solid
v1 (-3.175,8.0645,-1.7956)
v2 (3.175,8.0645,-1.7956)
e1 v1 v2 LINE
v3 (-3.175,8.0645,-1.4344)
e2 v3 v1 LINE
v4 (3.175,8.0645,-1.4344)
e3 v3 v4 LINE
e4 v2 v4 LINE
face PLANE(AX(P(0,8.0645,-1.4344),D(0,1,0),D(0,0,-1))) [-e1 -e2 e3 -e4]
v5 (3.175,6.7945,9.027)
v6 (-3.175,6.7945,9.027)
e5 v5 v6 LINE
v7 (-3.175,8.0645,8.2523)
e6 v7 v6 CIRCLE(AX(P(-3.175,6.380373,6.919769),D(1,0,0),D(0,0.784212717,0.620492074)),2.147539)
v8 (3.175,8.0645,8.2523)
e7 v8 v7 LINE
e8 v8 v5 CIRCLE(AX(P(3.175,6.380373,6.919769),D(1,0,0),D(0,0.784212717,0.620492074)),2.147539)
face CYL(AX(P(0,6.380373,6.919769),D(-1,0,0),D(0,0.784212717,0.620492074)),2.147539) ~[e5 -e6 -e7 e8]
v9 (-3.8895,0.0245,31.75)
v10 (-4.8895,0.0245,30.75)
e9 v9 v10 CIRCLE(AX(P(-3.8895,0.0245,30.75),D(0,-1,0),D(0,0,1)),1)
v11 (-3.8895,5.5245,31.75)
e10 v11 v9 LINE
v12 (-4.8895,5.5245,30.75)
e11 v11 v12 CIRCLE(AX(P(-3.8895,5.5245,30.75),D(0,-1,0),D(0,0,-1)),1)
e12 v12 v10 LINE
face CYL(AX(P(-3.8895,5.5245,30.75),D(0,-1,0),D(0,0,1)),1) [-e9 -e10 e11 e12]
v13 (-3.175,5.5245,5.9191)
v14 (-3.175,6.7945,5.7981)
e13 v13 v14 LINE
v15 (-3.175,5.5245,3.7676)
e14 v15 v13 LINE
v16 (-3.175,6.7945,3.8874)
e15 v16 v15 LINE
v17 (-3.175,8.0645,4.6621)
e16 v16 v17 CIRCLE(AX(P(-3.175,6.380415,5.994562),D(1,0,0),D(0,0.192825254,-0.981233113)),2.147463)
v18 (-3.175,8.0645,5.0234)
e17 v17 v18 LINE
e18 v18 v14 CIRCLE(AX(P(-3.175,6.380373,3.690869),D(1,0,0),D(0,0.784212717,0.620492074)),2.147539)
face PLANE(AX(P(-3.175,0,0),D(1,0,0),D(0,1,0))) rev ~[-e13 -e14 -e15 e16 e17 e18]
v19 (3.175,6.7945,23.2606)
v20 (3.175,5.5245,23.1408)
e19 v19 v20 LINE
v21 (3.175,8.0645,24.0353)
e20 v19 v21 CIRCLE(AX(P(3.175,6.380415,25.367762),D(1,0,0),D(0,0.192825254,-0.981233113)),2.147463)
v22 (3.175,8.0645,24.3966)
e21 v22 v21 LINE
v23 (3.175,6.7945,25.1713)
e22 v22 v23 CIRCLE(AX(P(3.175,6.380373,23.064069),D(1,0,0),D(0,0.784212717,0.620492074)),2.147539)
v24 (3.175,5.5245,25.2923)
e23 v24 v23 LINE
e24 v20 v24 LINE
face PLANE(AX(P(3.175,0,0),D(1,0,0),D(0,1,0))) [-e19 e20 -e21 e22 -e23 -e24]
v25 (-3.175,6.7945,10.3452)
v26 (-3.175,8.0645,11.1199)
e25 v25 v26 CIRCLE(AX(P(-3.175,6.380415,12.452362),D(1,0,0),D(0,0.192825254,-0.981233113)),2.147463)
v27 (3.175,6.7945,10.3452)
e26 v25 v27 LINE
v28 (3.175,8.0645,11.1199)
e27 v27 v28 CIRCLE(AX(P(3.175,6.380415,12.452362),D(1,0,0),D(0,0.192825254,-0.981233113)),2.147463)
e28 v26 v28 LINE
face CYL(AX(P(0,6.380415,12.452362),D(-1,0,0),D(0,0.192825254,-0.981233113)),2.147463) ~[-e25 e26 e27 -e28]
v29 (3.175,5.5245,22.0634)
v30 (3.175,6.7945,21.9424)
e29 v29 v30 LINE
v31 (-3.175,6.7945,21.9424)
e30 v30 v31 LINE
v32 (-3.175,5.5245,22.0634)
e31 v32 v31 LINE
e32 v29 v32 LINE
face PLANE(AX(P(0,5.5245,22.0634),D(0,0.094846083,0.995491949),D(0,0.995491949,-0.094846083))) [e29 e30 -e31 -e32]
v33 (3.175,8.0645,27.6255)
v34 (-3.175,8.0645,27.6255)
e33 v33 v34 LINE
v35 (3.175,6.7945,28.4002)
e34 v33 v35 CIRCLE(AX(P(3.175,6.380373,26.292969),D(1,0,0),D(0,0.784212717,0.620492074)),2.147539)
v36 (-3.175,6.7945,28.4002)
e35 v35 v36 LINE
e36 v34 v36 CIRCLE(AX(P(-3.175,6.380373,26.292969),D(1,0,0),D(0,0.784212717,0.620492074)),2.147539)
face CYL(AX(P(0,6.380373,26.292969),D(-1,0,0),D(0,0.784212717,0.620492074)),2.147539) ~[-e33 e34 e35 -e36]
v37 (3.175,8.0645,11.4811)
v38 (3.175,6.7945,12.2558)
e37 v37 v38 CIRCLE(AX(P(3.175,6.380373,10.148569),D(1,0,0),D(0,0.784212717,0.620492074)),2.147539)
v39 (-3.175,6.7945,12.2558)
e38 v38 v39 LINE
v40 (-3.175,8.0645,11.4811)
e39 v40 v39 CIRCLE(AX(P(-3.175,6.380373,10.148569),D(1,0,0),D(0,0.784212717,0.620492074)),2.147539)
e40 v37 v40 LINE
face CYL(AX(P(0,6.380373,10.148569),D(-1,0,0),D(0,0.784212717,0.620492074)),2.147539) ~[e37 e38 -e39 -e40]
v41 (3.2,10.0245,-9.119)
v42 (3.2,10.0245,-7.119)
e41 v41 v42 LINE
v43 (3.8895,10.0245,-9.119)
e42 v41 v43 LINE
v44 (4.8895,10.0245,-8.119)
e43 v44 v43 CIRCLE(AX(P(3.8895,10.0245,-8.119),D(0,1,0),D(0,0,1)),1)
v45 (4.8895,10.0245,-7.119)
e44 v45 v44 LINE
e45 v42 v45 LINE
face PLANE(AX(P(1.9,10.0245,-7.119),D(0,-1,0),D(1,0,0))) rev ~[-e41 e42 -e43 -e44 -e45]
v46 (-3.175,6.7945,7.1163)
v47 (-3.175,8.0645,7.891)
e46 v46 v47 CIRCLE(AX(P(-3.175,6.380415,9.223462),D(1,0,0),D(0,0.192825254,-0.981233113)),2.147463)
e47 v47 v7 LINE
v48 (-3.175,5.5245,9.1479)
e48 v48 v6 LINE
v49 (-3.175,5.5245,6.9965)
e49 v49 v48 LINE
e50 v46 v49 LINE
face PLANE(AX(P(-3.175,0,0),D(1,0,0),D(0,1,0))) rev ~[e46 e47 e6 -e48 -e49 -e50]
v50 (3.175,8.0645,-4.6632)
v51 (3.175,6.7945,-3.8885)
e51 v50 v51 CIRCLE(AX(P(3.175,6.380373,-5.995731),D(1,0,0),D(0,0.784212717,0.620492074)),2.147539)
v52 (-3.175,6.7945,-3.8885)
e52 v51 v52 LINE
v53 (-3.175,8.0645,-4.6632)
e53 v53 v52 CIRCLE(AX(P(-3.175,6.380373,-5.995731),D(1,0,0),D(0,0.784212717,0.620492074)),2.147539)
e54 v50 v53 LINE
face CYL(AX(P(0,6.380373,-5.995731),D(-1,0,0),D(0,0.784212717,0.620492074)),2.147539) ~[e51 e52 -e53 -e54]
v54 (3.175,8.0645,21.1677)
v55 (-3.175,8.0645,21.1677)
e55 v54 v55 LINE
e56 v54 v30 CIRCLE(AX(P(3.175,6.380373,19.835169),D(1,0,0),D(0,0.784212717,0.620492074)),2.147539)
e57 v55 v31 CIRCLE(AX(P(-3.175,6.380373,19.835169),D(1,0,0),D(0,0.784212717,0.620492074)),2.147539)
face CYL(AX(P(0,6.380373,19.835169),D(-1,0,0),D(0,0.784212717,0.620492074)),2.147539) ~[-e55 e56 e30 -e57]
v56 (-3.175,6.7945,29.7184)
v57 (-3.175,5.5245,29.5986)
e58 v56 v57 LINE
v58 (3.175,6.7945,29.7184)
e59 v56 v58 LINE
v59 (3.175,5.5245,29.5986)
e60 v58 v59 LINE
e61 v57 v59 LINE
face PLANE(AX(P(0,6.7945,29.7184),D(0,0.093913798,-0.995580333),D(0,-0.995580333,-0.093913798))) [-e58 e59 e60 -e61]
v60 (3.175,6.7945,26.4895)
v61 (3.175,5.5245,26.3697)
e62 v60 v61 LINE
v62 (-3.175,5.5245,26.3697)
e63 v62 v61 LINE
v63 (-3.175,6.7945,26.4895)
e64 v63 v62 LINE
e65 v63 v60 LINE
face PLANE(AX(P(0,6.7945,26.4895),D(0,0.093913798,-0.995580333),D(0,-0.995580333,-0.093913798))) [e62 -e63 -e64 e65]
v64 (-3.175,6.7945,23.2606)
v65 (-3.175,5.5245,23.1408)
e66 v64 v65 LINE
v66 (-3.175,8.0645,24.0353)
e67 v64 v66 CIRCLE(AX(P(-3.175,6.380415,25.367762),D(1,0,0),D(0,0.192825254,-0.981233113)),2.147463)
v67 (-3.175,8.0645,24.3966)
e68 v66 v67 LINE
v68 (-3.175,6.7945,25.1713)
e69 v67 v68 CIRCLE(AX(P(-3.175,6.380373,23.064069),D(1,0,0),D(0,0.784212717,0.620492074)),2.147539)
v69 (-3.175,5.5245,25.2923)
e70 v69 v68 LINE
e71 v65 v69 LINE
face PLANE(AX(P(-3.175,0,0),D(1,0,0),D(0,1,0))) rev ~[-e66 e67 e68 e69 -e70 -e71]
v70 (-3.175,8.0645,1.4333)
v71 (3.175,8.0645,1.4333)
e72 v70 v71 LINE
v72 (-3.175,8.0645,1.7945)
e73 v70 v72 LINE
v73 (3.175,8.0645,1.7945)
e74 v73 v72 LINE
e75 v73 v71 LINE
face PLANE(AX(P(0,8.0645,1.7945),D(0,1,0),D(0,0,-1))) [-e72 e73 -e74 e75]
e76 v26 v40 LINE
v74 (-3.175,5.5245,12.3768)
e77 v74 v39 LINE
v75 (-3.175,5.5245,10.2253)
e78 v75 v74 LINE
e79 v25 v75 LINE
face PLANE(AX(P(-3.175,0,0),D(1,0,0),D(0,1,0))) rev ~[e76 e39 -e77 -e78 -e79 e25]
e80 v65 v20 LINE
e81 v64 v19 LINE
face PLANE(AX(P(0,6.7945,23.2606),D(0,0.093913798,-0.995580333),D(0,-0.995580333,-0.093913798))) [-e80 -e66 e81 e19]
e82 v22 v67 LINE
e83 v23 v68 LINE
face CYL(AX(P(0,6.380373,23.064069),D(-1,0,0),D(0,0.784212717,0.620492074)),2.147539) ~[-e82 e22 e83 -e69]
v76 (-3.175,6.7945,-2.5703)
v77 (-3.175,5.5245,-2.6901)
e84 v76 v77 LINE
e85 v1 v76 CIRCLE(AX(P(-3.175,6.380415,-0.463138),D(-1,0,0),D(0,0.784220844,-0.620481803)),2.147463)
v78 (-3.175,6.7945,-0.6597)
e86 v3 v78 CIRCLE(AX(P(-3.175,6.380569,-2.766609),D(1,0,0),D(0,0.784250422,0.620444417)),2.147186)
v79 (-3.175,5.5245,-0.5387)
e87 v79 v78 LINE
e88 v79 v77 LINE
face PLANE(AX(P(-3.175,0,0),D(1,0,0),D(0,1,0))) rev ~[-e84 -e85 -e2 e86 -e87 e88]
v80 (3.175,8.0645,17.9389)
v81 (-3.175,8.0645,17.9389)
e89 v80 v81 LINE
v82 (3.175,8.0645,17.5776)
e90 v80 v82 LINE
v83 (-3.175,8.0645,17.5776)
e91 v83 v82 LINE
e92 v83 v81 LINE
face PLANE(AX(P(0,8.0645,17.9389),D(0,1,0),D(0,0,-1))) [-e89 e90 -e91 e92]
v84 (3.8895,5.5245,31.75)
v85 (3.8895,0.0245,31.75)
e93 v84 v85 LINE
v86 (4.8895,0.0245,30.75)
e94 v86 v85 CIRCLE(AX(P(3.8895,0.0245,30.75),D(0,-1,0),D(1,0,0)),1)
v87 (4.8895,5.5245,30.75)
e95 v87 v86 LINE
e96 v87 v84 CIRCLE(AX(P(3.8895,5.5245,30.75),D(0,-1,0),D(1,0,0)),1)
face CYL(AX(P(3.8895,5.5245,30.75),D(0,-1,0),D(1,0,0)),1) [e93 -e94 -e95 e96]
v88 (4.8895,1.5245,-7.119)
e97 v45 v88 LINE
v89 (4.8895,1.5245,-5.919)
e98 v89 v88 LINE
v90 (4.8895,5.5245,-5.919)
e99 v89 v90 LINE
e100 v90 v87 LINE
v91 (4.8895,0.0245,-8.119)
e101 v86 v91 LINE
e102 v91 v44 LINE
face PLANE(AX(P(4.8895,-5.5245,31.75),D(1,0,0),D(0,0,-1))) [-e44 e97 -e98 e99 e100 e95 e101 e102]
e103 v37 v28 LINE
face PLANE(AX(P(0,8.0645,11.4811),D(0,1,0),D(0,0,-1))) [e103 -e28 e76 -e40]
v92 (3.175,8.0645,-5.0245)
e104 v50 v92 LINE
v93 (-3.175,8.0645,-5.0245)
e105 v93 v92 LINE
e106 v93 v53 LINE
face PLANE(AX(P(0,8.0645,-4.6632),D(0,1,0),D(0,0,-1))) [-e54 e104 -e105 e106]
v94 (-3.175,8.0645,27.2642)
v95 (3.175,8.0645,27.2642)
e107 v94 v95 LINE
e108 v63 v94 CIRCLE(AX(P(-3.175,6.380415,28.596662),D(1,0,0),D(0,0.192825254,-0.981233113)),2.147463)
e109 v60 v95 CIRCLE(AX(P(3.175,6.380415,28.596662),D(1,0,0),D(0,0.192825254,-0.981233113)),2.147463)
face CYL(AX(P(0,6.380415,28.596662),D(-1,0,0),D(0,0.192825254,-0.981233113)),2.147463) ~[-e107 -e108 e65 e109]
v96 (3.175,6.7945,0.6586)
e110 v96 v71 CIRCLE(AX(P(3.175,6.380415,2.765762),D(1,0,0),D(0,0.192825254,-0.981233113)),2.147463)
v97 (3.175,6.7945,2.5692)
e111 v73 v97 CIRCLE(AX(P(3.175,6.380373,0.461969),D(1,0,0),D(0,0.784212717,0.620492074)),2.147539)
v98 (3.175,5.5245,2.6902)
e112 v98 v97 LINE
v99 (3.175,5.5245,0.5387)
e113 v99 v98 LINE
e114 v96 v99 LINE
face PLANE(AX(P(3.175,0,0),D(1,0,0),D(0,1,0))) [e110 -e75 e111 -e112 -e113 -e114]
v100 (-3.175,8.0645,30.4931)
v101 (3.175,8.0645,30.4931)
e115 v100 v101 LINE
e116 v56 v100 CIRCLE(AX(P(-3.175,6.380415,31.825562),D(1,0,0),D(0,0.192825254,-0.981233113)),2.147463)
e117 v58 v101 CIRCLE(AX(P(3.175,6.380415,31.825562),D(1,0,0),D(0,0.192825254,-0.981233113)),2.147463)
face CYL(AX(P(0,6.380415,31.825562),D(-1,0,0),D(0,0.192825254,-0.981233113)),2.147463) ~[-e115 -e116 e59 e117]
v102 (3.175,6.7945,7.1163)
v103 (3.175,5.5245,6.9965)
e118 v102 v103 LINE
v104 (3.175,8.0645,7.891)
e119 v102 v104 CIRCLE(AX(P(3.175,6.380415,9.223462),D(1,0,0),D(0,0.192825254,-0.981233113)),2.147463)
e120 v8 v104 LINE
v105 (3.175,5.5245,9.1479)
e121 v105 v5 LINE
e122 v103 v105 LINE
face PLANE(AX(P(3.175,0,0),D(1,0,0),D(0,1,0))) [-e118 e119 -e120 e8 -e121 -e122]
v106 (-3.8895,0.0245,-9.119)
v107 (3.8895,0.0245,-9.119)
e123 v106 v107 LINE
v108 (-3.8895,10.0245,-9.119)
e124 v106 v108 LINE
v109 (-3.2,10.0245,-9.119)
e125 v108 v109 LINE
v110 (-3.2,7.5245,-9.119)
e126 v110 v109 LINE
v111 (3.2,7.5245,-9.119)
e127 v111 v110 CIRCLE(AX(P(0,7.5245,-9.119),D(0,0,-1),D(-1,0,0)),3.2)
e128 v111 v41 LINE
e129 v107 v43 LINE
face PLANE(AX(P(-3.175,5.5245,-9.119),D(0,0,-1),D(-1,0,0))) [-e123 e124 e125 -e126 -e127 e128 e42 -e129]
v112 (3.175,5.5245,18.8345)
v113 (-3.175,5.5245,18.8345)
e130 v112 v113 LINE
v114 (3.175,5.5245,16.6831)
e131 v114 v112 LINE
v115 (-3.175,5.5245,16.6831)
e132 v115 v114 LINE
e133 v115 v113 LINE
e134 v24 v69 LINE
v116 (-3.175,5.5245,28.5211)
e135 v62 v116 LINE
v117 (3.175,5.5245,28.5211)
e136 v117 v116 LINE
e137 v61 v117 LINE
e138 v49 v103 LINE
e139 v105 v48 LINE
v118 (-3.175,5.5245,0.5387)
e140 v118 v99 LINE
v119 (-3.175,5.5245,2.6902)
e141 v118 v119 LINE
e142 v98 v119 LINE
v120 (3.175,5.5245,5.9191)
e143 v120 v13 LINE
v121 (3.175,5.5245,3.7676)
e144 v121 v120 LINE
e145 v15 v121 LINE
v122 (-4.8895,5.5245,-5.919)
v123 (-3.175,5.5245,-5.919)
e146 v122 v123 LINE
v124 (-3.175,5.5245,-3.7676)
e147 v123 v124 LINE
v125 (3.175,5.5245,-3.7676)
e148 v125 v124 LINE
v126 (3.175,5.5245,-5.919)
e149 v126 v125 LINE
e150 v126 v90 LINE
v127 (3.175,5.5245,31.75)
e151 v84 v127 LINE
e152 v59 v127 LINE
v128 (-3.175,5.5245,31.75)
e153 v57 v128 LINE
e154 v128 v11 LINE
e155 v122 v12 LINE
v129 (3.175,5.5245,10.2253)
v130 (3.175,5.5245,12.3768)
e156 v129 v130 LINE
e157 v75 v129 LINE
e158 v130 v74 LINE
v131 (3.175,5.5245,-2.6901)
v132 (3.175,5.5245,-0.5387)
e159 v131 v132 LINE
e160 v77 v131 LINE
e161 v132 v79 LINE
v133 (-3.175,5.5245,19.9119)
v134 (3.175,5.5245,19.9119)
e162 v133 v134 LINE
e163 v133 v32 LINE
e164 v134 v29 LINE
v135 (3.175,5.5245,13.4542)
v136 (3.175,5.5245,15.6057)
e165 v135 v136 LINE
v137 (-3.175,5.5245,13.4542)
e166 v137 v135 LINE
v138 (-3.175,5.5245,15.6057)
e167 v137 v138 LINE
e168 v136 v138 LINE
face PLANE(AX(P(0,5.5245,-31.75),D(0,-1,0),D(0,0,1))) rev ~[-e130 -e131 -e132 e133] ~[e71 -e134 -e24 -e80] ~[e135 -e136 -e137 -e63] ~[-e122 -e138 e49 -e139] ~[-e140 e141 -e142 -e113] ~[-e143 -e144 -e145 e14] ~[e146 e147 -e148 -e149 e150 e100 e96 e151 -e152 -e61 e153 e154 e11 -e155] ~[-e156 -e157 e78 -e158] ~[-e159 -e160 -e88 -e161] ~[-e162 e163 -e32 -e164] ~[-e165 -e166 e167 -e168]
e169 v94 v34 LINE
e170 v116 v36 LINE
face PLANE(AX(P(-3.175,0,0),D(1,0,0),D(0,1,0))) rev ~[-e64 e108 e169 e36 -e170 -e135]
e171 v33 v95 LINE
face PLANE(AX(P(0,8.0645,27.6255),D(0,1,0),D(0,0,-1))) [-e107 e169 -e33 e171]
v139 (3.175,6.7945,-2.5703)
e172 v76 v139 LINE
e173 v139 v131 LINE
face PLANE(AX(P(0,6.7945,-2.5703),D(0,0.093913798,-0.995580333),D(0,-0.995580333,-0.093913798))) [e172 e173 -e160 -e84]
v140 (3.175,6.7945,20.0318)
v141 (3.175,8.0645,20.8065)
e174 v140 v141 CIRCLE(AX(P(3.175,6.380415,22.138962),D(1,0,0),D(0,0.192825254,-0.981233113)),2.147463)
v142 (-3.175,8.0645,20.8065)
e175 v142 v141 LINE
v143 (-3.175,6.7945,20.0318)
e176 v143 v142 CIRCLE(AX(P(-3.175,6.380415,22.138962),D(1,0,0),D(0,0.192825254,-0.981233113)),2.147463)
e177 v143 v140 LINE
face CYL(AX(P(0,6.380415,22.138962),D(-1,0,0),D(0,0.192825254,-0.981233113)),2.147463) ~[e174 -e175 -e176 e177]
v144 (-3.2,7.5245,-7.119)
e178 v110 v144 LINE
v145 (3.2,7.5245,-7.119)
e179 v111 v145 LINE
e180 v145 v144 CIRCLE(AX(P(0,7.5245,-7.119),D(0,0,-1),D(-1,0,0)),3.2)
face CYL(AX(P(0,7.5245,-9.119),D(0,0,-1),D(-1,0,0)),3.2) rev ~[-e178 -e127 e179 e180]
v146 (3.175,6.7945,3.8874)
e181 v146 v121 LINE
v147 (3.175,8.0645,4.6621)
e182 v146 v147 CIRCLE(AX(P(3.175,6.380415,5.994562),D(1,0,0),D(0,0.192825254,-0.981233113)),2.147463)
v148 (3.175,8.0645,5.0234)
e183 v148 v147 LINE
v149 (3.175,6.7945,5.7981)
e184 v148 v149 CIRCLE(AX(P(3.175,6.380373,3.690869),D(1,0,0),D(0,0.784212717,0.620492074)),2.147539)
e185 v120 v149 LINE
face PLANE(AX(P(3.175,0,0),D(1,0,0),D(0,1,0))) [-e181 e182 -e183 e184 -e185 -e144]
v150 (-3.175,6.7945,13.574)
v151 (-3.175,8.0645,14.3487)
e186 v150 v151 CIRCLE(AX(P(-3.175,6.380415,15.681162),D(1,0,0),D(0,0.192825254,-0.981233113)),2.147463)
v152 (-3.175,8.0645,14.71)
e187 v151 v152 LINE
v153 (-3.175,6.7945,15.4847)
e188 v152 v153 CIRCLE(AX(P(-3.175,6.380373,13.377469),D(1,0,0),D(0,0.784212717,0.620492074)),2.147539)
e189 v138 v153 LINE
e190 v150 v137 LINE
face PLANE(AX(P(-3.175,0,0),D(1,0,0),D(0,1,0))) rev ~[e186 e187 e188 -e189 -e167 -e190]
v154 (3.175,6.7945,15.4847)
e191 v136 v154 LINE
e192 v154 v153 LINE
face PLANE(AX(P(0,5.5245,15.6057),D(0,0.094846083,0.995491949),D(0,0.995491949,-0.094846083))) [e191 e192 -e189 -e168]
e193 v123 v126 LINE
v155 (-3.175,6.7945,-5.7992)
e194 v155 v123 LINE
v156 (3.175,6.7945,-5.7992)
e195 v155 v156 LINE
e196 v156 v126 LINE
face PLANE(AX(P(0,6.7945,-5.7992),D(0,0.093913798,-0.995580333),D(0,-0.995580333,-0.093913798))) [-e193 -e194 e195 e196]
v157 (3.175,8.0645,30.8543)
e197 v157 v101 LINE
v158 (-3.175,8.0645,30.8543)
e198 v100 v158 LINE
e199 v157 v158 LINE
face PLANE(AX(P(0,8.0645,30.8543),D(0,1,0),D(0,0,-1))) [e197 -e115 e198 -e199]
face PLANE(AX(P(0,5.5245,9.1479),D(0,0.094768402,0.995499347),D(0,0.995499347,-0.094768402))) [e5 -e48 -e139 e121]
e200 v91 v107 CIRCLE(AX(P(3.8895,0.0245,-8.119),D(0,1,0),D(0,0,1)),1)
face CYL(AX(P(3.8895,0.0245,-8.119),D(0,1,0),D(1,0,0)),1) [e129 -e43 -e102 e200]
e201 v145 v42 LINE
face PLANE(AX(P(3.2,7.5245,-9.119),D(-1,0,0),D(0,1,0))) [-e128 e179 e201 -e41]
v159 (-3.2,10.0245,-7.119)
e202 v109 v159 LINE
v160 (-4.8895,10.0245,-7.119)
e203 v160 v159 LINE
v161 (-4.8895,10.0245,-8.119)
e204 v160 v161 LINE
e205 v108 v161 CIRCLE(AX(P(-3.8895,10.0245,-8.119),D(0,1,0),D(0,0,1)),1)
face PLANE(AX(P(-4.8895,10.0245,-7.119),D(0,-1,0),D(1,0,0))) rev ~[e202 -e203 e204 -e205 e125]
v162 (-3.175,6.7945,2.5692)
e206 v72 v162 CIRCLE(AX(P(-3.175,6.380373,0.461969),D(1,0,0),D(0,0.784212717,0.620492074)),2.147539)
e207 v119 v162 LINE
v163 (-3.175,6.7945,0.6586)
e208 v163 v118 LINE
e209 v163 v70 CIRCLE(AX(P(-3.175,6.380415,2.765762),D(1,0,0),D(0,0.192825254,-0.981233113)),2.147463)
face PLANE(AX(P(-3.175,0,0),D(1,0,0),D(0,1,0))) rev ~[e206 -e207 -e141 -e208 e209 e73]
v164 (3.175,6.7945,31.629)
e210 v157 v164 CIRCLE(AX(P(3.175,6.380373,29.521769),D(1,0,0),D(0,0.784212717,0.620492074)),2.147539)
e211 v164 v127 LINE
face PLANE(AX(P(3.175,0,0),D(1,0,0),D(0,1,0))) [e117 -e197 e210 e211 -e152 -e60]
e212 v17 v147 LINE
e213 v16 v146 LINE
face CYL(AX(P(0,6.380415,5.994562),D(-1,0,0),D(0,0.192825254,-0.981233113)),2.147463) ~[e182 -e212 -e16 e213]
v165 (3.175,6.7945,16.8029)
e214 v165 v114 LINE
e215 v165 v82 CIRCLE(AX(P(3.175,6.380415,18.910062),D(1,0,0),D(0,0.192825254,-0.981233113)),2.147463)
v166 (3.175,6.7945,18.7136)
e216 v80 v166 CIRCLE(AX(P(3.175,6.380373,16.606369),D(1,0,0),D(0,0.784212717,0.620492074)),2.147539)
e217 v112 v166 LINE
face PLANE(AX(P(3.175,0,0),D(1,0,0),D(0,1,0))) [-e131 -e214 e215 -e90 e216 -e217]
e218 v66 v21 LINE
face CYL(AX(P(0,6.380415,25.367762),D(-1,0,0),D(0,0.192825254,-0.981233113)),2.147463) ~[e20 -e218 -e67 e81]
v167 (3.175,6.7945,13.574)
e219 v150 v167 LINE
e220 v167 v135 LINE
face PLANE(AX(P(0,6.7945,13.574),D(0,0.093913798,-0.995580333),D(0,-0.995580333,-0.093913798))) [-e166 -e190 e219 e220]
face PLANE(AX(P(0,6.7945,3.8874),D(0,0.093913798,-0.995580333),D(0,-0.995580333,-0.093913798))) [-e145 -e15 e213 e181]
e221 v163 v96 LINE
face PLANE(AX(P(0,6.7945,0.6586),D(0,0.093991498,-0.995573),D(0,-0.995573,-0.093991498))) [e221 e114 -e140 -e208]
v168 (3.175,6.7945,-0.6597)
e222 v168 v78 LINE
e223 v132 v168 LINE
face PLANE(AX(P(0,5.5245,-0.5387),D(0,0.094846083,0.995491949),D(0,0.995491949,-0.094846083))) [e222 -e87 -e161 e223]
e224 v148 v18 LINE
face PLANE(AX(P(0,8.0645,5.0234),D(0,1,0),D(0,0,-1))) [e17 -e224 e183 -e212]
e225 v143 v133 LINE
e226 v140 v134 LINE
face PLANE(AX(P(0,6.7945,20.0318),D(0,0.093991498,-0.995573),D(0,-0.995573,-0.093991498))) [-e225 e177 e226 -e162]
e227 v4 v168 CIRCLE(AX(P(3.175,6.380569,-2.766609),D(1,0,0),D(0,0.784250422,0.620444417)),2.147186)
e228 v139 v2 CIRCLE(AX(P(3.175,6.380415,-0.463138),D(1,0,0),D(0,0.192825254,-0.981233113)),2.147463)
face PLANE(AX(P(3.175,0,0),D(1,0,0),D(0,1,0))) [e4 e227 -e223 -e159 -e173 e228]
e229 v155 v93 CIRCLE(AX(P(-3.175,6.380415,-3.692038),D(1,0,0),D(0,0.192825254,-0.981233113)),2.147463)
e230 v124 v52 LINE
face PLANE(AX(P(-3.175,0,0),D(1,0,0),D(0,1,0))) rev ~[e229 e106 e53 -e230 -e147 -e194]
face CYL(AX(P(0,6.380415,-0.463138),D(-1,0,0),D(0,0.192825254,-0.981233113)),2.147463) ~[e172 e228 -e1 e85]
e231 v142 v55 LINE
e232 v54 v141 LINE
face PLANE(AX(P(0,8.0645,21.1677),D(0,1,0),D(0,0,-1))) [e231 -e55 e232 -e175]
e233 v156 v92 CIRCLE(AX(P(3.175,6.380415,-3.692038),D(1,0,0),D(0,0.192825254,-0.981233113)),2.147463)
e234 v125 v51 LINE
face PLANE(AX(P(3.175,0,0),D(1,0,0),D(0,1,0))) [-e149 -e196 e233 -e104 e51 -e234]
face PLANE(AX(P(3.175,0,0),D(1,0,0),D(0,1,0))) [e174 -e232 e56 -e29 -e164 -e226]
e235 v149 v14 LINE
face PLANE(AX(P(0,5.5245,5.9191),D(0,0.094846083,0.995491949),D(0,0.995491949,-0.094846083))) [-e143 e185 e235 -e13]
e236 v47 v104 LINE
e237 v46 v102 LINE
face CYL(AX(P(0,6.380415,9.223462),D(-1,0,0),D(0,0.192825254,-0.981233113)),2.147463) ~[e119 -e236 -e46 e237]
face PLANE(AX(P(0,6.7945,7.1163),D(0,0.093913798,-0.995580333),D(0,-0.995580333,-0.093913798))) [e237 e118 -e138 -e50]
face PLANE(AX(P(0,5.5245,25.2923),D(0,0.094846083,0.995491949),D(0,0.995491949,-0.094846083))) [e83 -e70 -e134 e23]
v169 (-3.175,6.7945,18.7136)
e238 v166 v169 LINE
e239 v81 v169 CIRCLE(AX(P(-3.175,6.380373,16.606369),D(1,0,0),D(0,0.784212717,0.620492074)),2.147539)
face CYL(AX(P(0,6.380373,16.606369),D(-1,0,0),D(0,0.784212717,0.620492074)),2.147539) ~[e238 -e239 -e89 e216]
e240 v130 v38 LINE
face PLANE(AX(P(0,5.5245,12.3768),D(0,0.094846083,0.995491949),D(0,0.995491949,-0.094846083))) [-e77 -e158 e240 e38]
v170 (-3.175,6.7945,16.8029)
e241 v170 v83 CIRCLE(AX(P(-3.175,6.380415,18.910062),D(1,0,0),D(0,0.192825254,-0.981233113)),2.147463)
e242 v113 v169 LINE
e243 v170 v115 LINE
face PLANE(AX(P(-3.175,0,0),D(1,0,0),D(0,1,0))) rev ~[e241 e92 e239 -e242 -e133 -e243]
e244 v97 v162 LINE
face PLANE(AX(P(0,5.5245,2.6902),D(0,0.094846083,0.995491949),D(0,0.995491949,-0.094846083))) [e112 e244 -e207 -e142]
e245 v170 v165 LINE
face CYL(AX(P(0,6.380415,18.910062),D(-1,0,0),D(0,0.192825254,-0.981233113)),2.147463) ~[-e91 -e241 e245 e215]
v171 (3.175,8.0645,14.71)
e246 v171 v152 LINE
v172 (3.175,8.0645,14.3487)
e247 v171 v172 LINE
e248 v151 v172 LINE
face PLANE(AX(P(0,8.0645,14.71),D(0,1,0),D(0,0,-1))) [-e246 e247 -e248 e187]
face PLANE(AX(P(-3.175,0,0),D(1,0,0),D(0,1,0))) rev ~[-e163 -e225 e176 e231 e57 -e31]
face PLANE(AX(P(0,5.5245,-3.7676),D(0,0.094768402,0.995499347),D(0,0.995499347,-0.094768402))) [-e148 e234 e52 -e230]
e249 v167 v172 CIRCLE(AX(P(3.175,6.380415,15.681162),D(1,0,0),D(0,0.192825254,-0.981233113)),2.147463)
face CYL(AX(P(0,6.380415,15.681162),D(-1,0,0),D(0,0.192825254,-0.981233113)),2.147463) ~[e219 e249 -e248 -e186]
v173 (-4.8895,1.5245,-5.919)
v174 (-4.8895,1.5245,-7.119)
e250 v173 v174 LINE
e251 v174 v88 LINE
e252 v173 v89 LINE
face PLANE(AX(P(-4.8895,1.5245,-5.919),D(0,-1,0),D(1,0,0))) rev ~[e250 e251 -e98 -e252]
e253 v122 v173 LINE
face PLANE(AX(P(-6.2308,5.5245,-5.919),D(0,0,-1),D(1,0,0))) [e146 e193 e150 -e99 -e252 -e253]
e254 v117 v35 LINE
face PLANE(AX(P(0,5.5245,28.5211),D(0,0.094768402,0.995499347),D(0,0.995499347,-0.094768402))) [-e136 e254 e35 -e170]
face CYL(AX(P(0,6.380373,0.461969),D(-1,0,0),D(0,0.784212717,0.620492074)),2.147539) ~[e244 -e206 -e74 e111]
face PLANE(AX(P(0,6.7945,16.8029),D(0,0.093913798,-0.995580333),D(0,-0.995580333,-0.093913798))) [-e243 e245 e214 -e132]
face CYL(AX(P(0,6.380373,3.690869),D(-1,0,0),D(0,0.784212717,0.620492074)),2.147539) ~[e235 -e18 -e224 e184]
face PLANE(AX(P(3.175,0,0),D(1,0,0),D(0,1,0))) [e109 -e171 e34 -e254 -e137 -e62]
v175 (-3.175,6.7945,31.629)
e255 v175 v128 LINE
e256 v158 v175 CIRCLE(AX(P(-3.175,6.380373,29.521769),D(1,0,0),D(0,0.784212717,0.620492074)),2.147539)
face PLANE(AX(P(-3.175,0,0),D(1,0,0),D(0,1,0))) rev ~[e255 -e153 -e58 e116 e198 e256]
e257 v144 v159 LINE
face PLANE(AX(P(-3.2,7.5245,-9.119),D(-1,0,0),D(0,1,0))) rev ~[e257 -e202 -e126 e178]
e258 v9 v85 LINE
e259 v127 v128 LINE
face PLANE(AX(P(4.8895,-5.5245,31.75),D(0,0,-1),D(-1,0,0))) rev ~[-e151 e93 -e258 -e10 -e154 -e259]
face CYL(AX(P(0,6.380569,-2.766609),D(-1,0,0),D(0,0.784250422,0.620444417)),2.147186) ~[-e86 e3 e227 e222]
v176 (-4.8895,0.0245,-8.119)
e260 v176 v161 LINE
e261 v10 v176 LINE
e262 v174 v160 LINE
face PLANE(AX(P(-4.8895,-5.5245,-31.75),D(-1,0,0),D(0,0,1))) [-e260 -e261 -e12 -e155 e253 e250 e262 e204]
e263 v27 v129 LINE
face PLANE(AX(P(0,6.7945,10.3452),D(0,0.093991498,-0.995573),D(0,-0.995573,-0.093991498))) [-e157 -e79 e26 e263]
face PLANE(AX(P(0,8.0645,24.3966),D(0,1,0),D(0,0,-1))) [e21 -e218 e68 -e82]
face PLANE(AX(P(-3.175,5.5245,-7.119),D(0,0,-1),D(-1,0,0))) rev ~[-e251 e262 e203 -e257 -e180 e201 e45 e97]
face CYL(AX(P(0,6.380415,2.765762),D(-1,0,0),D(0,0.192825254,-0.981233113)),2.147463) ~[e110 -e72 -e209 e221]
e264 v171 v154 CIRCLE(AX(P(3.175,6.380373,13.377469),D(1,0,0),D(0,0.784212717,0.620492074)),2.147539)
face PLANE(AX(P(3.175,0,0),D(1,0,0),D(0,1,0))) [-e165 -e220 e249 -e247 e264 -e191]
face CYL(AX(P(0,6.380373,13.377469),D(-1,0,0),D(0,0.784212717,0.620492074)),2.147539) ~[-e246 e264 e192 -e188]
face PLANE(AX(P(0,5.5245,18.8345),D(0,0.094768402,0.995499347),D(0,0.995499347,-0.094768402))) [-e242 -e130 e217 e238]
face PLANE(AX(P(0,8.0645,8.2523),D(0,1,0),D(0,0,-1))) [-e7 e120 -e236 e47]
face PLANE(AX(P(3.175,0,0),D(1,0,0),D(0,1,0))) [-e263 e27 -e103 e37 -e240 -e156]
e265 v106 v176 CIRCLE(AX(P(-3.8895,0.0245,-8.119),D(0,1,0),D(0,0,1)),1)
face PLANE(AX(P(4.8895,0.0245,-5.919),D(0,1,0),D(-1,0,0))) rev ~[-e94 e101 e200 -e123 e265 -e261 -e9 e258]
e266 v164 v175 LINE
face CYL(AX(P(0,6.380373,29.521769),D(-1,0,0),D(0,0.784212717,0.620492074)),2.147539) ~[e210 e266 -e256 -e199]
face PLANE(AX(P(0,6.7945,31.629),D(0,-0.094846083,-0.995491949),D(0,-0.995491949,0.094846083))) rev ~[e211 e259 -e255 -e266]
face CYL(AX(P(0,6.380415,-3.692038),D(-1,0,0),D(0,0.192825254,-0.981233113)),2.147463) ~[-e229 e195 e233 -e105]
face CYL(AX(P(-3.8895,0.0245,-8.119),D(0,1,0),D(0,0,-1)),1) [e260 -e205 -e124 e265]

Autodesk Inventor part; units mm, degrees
ref_plane "YZ Plane" through (0, 0, 0) normal (1, 0, 0) x (0, 1, 0)
ref_plane "XZ Plane" through (0, 0, 0) normal (0, 1, 0) x (-1, 0, 0)
ref_plane "XY Plane" through (0, 0, 0) normal (0, 0, 1) x (1, 0, 0)
sketch "Sketch2" plane through (0, 0, 0) normal (1, 0, 0) x (0, 1, 0)
  line L0 (-5.5245, 31.75) -> (-5.5245, -31.75)
  line L1 (-5.5245, -31.75) -> (5.5245, -31.75)
  line L2 (5.5245, -31.75) -> (5.5245, 31.75)
  line L3 (5.5245, 31.75) -> (-5.5245, 31.75)
  line L4 (-5.5245, 31.75) -> (5.5245, -31.75) construction
  line L5 (-5.5245, -31.75) -> (5.5245, 31.75) construction
  point P0 (0, 0)
  dimension "d4" = 63.5
  dimension "d5" = 11.049
extrude "Extrusion2" add sketch "Sketch2" along normal mid plane 9.779
sketch "Sketch3" plane through (0, 0, 0) normal (1, 0, 0) x (0, 1, 0)
  line L0 (5.5245, -31.75) -> (5.5245, 31.75) projected
  line L1 (5.5245, 31.9532) -> (5.5245, 29.4132)
  line L2 (5.5245, 31.9532) -> (5.5245, 29.4132)
  arc A0 (8.0645, 30.8543) -> (6.7945, 31.629) centre (6.3804, 29.5218) ccw
  line L3 (8.0645, 30.6737) -> (7.6408, 30.6737)
  arc A1 (6.7945, 29.7184) -> (8.0645, 30.4931) centre (6.3804, 31.8256) ccw
  line L4 (8.0645, 30.8543) -> (8.0645, 30.4931)
  line L5 (5.5245, 31.75) -> (5.5245, -31.75)
  arc A2 (8.0642, -1.6042) -> (8.0645, -1.6033) centre (6.6313, -1.0154) ccw
  line L6 (6.7945, 31.629) -> (5.5245, 31.7489)
  line L7 (6.7945, 29.7184) -> (5.5245, 29.5986)
  line L8 (5.5245, 31.7489) -> (6.7945, 31.629)
  line L9 (6.7945, 29.7184) -> (5.5245, 29.5986)
  line L10 (5.5245, 29.5986) -> (5.5245, 31.7489)
  arc A3 (8.0645, 30.8543) -> (6.7945, 31.629) centre (6.3804, 29.5218) ccw
  arc A4 (6.7945, 29.7184) -> (8.0645, 30.4931) centre (6.3804, 31.8256) ccw
  line L11 (8.0645, 30.8543) -> (8.0645, 30.4931)
  line L12 (8.0645, 27.4448) -> (7.6408, 27.4448)
  line L13 (8.0645, 27.6255) -> (8.0645, 27.2642)
  line L14 (8.0645, 27.6255) -> (8.0645, 27.2642)
  arc A5 (6.7945, 26.4895) -> (8.0645, 27.2642) centre (6.3804, 28.5967) ccw
  arc A6 (8.0645, 27.6255) -> (6.7945, 28.4002) centre (6.3804, 26.293) ccw
  arc A7 (6.7945, 26.4895) -> (8.0645, 27.2642) centre (6.3804, 28.5967) ccw
  arc A8 (8.0645, 27.6255) -> (6.7945, 28.4002) centre (6.3804, 26.293) ccw
  line L15 (5.5245, 28.5211) -> (5.5245, -34.9788)
  line L16 (5.5245, 28.7243) -> (5.5245, 26.1843)
  line L17 (6.7945, 26.4895) -> (5.5245, 26.3697)
  line L18 (5.5245, 28.52) -> (6.7945, 28.4002)
  line L19 (6.7945, 26.4895) -> (5.5245, 26.3697)
  line L20 (5.5245, 26.3697) -> (5.5245, 28.52)
  line L21 (5.5245, 28.7243) -> (5.5245, 26.1843)
  line L22 (6.7945, 28.4002) -> (5.5245, 28.52)
  line L23 (8.0645, 24.216) -> (7.6408, 24.216)
  line L24 (8.0645, 24.3966) -> (8.0645, 24.0353)
  line L25 (8.0645, 24.3966) -> (8.0645, 24.0353)
  arc A9 (6.7945, 23.2606) -> (8.0645, 24.0353) centre (6.3804, 25.3678) ccw
  arc A10 (8.0645, 24.3966) -> (6.7945, 25.1713) centre (6.3804, 23.0641) ccw
  arc A11 (6.7945, 23.2606) -> (8.0645, 24.0353) centre (6.3804, 25.3678) ccw
  arc A12 (8.0645, 24.3966) -> (6.7945, 25.1713) centre (6.3804, 23.0641) ccw
  line L26 (5.5245, 25.2923) -> (5.5245, -38.2077)
  line L27 (5.5245, 25.4955) -> (5.5245, 22.9555)
  line L28 (6.7945, 23.2606) -> (5.5245, 23.1408)
  line L29 (5.5245, 25.2911) -> (6.7945, 25.1713)
  line L30 (6.7945, 23.2606) -> (5.5245, 23.1408)
  line L31 (5.5245, 23.1408) -> (5.5245, 25.2911)
  line L32 (5.5245, 25.4955) -> (5.5245, 22.9555)
  line L33 (6.7945, 25.1713) -> (5.5245, 25.2911)
  line L34 (8.0645, 20.9871) -> (7.6408, 20.9871)
  line L35 (8.0645, 21.1677) -> (8.0645, 20.8065)
  line L36 (8.0645, 21.1677) -> (8.0645, 20.8065)
  arc A13 (6.7945, 20.0318) -> (8.0645, 20.8065) centre (6.3804, 22.139) ccw
  arc A14 (8.0645, 21.1677) -> (6.7945, 21.9424) centre (6.3804, 19.8352) ccw
  arc A15 (6.7945, 20.0318) -> (8.0645, 20.8065) centre (6.3804, 22.139) ccw
  arc A16 (8.0645, 21.1677) -> (6.7945, 21.9424) centre (6.3804, 19.8352) ccw
  line L37 (5.5245, 22.0634) -> (5.5245, -41.4366)
  line L38 (5.5245, 22.2666) -> (5.5245, 19.7266)
  line L39 (6.7945, 20.0318) -> (5.5245, 19.9119)
  line L40 (5.5245, 22.0623) -> (6.7945, 21.9424)
  line L41 (6.7945, 20.0318) -> (5.5245, 19.9119)
  line L42 (5.5245, 19.9119) -> (5.5245, 22.0623)
  line L43 (5.5245, 22.2666) -> (5.5245, 19.7266)
  line L44 (6.7945, 21.9424) -> (5.5245, 22.0623)
  line L45 (8.0645, 17.7582) -> (7.6408, 17.7582)
  line L46 (8.0645, 17.9389) -> (8.0645, 17.5776)
  line L47 (8.0645, 17.9389) -> (8.0645, 17.5776)
  arc A17 (6.7945, 16.8029) -> (8.0645, 17.5776) centre (6.3804, 18.9101) ccw
  arc A18 (8.0645, 17.9389) -> (6.7945, 18.7136) centre (6.3804, 16.6064) ccw
  arc A19 (6.7945, 16.8029) -> (8.0645, 17.5776) centre (6.3804, 18.9101) ccw
  arc A20 (8.0645, 17.9389) -> (6.7945, 18.7136) centre (6.3804, 16.6064) ccw
  line L48 (5.5245, 18.8345) -> (5.5245, -44.6655)
  line L49 (5.5245, 19.0377) -> (5.5245, 16.4977)
  line L50 (6.7945, 16.8029) -> (5.5245, 16.6831)
  line L51 (5.5245, 18.8334) -> (6.7945, 18.7136)
  line L52 (6.7945, 16.8029) -> (5.5245, 16.6831)
  line L53 (5.5245, 16.6831) -> (5.5245, 18.8334)
  line L54 (5.5245, 19.0377) -> (5.5245, 16.4977)
  line L55 (6.7945, 18.7136) -> (5.5245, 18.8334)
  line L56 (8.0645, 14.5294) -> (7.6408, 14.5294)
  line L57 (8.0645, 14.71) -> (8.0645, 14.3487)
  line L58 (8.0645, 14.71) -> (8.0645, 14.3487)
  arc A21 (6.7945, 13.574) -> (8.0645, 14.3487) centre (6.3804, 15.6812) ccw
  arc A22 (8.0645, 14.71) -> (6.7945, 15.4847) centre (6.3804, 13.3775) ccw
  arc A23 (6.7945, 13.574) -> (8.0645, 14.3487) centre (6.3804, 15.6812) ccw
  arc A24 (8.0645, 14.71) -> (6.7945, 15.4847) centre (6.3804, 13.3775) ccw
  line L59 (5.5245, 15.6057) -> (5.5245, -47.8943)
  line L60 (5.5245, 15.8089) -> (5.5245, 13.2689)
  line L61 (6.7945, 13.574) -> (5.5245, 13.4542)
  line L62 (5.5245, 15.6045) -> (6.7945, 15.4847)
  line L63 (6.7945, 13.574) -> (5.5245, 13.4542)
  line L64 (5.5245, 13.4542) -> (5.5245, 15.6045)
  line L65 (5.5245, 15.8089) -> (5.5245, 13.2689)
  line L66 (6.7945, 15.4847) -> (5.5245, 15.6045)
  line L67 (8.0645, 11.3005) -> (7.6408, 11.3005)
  line L68 (8.0645, 11.4811) -> (8.0645, 11.1199)
  line L69 (8.0645, 11.4811) -> (8.0645, 11.1199)
  arc A25 (6.7945, 10.3452) -> (8.0645, 11.1199) centre (6.3804, 12.4524) ccw
  arc A26 (8.0645, 11.4811) -> (6.7945, 12.2558) centre (6.3804, 10.1486) ccw
  arc A27 (6.7945, 10.3452) -> (8.0645, 11.1199) centre (6.3804, 12.4524) ccw
  arc A28 (8.0645, 11.4811) -> (6.7945, 12.2558) centre (6.3804, 10.1486) ccw
  line L70 (5.5245, 12.3768) -> (5.5245, -51.1232)
  line L71 (5.5245, 12.58) -> (5.5245, 10.04)
  line L72 (6.7945, 10.3452) -> (5.5245, 10.2253)
  line L73 (5.5245, 12.3756) -> (6.7945, 12.2558)
  line L74 (6.7945, 10.3452) -> (5.5245, 10.2253)
  line L75 (5.5245, 10.2253) -> (5.5245, 12.3756)
  line L76 (5.5245, 12.58) -> (5.5245, 10.04)
  line L77 (6.7945, 12.2558) -> (5.5245, 12.3756)
  line L78 (8.0645, 8.0716) -> (7.6408, 8.0716)
  line L79 (8.0645, 8.2523) -> (8.0645, 7.891)
  line L80 (8.0645, 8.2523) -> (8.0645, 7.891)
  arc A29 (6.7945, 7.1163) -> (8.0645, 7.891) centre (6.3804, 9.2235) ccw
  arc A30 (8.0645, 8.2523) -> (6.7945, 9.027) centre (6.3804, 6.9198) ccw
  arc A31 (6.7945, 7.1163) -> (8.0645, 7.891) centre (6.3804, 9.2235) ccw
  arc A32 (8.0645, 8.2523) -> (6.7945, 9.027) centre (6.3804, 6.9198) ccw
  line L81 (5.5245, 9.1479) -> (5.5245, -54.3521)
  line L82 (5.5245, 9.3511) -> (5.5245, 6.8111)
  line L83 (6.7945, 7.1163) -> (5.5245, 6.9965)
  line L84 (5.5245, 9.1468) -> (6.7945, 9.027)
  line L85 (6.7945, 7.1163) -> (5.5245, 6.9965)
  line L86 (5.5245, 6.9965) -> (5.5245, 9.1468)
  line L87 (5.5245, 9.3511) -> (5.5245, 6.8111)
  line L88 (6.7945, 9.027) -> (5.5245, 9.1468)
  line L89 (8.0645, 4.8428) -> (7.6408, 4.8428)
  line L90 (8.0645, 5.0234) -> (8.0645, 4.6621)
  line L91 (8.0645, 5.0234) -> (8.0645, 4.6621)
  arc A33 (6.7945, 3.8874) -> (8.0645, 4.6621) centre (6.3804, 5.9946) ccw
  arc A34 (8.0645, 5.0234) -> (6.7945, 5.7981) centre (6.3804, 3.6909) ccw
  arc A35 (6.7945, 3.8874) -> (8.0645, 4.6621) centre (6.3804, 5.9946) ccw
  arc A36 (8.0645, 5.0234) -> (6.7945, 5.7981) centre (6.3804, 3.6909) ccw
  line L92 (5.5245, 5.9191) -> (5.5245, -57.5809)
  line L93 (5.5245, 6.1223) -> (5.5245, 3.5823)
  line L94 (6.7945, 3.8874) -> (5.5245, 3.7676)
  line L95 (5.5245, 5.9179) -> (6.7945, 5.7981)
  line L96 (6.7945, 3.8874) -> (5.5245, 3.7676)
  line L97 (5.5245, 3.7676) -> (5.5245, 5.9179)
  line L98 (5.5245, 6.1223) -> (5.5245, 3.5823)
  line L99 (6.7945, 5.7981) -> (5.5245, 5.9179)
  line L100 (8.0645, 1.6139) -> (7.6408, 1.6139)
  line L101 (8.0645, 1.7945) -> (8.0645, 1.4333)
  line L102 (8.0645, 1.7945) -> (8.0645, 1.4333)
  arc A37 (6.7945, 0.6586) -> (8.0645, 1.4333) centre (6.3804, 2.7658) ccw
  arc A38 (8.0645, 1.7945) -> (6.7945, 2.5692) centre (6.3804, 0.462) ccw
  arc A39 (6.7945, 0.6586) -> (8.0645, 1.4333) centre (6.3804, 2.7658) ccw
  arc A40 (8.0645, 1.7945) -> (6.7945, 2.5692) centre (6.3804, 0.462) ccw
  line L103 (5.5245, 2.6902) -> (5.5245, -60.8098)
  line L104 (5.5245, 2.8934) -> (5.5245, 0.3534)
  line L105 (6.7945, 0.6586) -> (5.5245, 0.5387)
  line L106 (5.5245, 2.689) -> (6.7945, 2.5692)
  line L107 (6.7945, 0.6586) -> (5.5245, 0.5387)
  line L108 (5.5245, 0.5387) -> (5.5245, 2.689)
  line L109 (5.5245, 2.8934) -> (5.5245, 0.3534)
  line L110 (6.7945, 2.5692) -> (5.5245, 2.689)
  line L111 (8.0645, -1.615) -> (7.6408, -1.615)
  line L112 (8.0645, -1.4344) -> (8.0645, -1.7956)
  line L113 (8.0645, -1.4344) -> (8.0645, -1.7956)
  arc A41 (6.7945, -2.5703) -> (8.0645, -1.7956) centre (6.3804, -0.4631) ccw
  arc A42 (8.0645, -1.4344) -> (6.7945, -0.6597) centre (6.3804, -2.7668) ccw
  arc A43 (6.7945, -2.5703) -> (8.0645, -1.7956) centre (6.3804, -0.4631) ccw
  arc A44 (8.0645, -1.4344) -> (6.7945, -0.6597) centre (6.3804, -2.7668) ccw
  line L114 (5.5245, -0.5387) -> (5.5245, -64.0387)
  line L115 (5.5245, -0.3355) -> (5.5245, -2.8755)
  line L116 (6.7945, -2.5703) -> (5.5245, -2.6901)
  line L117 (5.5245, -0.5398) -> (6.7945, -0.6597)
  line L118 (6.7945, -2.5703) -> (5.5245, -2.6901)
  line L119 (5.5245, -2.6901) -> (5.5245, -0.5398)
  line L120 (5.5245, -0.3355) -> (5.5245, -2.8755)
  line L121 (6.7945, -0.6597) -> (5.5245, -0.5398)
  line L122 (8.0645, -4.8438) -> (7.6408, -4.8438)
  line L123 (8.0645, -4.6632) -> (8.0645, -5.0245)
  line L124 (8.0645, -4.6632) -> (8.0645, -5.0245)
  arc A45 (6.7945, -5.7992) -> (8.0645, -5.0245) centre (6.3804, -3.692) ccw
  arc A46 (8.0645, -4.6632) -> (6.7945, -3.8885) centre (6.3804, -5.9957) ccw
  arc A47 (6.7945, -5.7992) -> (8.0645, -5.0245) centre (6.3804, -3.692) ccw
  arc A48 (8.0645, -4.6632) -> (6.7945, -3.8885) centre (6.3804, -5.9957) ccw
  line L125 (5.5245, -3.7676) -> (5.5245, -67.2675)
  line L126 (5.5245, -3.5644) -> (5.5245, -6.1044)
  line L127 (6.7945, -5.7992) -> (5.5245, -5.919)
  line L128 (5.5245, -3.7687) -> (6.7945, -3.8885)
  line L129 (6.7945, -5.7992) -> (5.5245, -5.919)
  line L130 (5.5245, -5.919) -> (5.5245, -3.7687)
  line L131 (5.5245, -3.5644) -> (5.5245, -6.1044)
  line L132 (6.7945, -3.8885) -> (5.5245, -3.7687)
  line L133 (8.0645, -8.0727) -> (7.6408, -8.0727)
  line L134 (8.0645, -7.8921) -> (8.0645, -8.2533)
  line L135 (8.0645, -7.8921) -> (8.0645, -8.2533)
  arc A49 (6.7945, -9.028) -> (8.0645, -8.2533) centre (6.3804, -6.9208) ccw
  arc A50 (8.0645, -7.8921) -> (6.7945, -7.1174) centre (6.3804, -9.2246) ccw
  arc A51 (6.7945, -9.028) -> (8.0645, -8.2533) centre (6.3804, -6.9208) ccw
  arc A52 (8.0645, -7.8921) -> (6.7945, -7.1174) centre (6.3804, -9.2246) ccw
  line L136 (5.5245, -6.9964) -> (5.5245, -70.4964)
  line L137 (5.5245, -6.7932) -> (5.5245, -9.3332)
  line L138 (6.7945, -9.028) -> (5.5245, -9.1479)
  line L139 (5.5245, -6.9976) -> (6.7945, -7.1174)
  line L140 (6.7945, -9.028) -> (5.5245, -9.1479)
  line L141 (5.5245, -9.1479) -> (5.5245, -6.9976)
  line L142 (5.5245, -6.7932) -> (5.5245, -9.3332)
  line L143 (6.7945, -7.1174) -> (5.5245, -6.9976)
  line L144 (8.0645, -11.3016) -> (7.6408, -11.3016)
  line L145 (8.0645, -11.121) -> (8.0645, -11.4822)
  line L146 (8.0645, -11.121) -> (8.0645, -11.4822)
  arc A53 (6.7945, -12.2569) -> (8.0645, -11.4822) centre (6.3804, -10.1497) ccw
  arc A54 (8.0645, -11.121) -> (6.7945, -10.3463) centre (6.3804, -12.4535) ccw
  arc A55 (6.7945, -12.2569) -> (8.0645, -11.4822) centre (6.3804, -10.1497) ccw
  arc A56 (8.0645, -11.121) -> (6.7945, -10.3463) centre (6.3804, -12.4535) ccw
  line L147 (5.5245, -10.2253) -> (5.5245, -73.7253)
  line L148 (5.5245, -10.0221) -> (5.5245, -12.5621)
  line L149 (6.7945, -12.2569) -> (5.5245, -12.3767)
  line L150 (5.5245, -10.2264) -> (6.7945, -10.3463)
  line L151 (6.7945, -12.2569) -> (5.5245, -12.3767)
  line L152 (5.5245, -12.3767) -> (5.5245, -10.2264)
  line L153 (5.5245, -10.0221) -> (5.5245, -12.5621)
  line L154 (6.7945, -10.3463) -> (5.5245, -10.2264)
  line L155 (8.0645, -14.5305) -> (7.6408, -14.5305)
  line L156 (8.0645, -14.3498) -> (8.0645, -14.7111)
  line L157 (8.0645, -14.3498) -> (8.0645, -14.7111)
  arc A57 (6.7945, -15.4858) -> (8.0645, -14.7111) centre (6.3804, -13.3786) ccw
  arc A58 (8.0645, -14.3498) -> (6.7945, -13.5751) centre (6.3804, -15.6823) ccw
  arc A59 (6.7945, -15.4858) -> (8.0645, -14.7111) centre (6.3804, -13.3786) ccw
  arc A60 (8.0645, -14.3498) -> (6.7945, -13.5751) centre (6.3804, -15.6823) ccw
  line L158 (5.5245, -13.4542) -> (5.5245, -76.9541)
  line L159 (5.5245, -13.251) -> (5.5245, -15.791)
  line L160 (6.7945, -15.4858) -> (5.5245, -15.6056)
  line L161 (5.5245, -13.4553) -> (6.7945, -13.5751)
  line L162 (6.7945, -15.4858) -> (5.5245, -15.6056)
  line L163 (5.5245, -15.6056) -> (5.5245, -13.4553)
  line L164 (5.5245, -13.251) -> (5.5245, -15.791)
  line L165 (6.7945, -13.5751) -> (5.5245, -13.4553)
  line L166 (8.0645, -17.7593) -> (7.6408, -17.7593)
  line L167 (8.0645, -17.5787) -> (8.0645, -17.9399)
  line L168 (8.0645, -17.5787) -> (8.0645, -17.9399)
  arc A61 (6.7945, -18.7146) -> (8.0645, -17.9399) centre (6.3804, -16.6075) ccw
  arc A62 (8.0645, -17.5787) -> (6.7945, -16.804) centre (6.3804, -18.9112) ccw
  arc A63 (6.7945, -18.7146) -> (8.0645, -17.9399) centre (6.3804, -16.6075) ccw
  arc A64 (8.0645, -17.5787) -> (6.7945, -16.804) centre (6.3804, -18.9112) ccw
  line L169 (5.5245, -16.683) -> (5.5245, -80.183)
  line L170 (5.5245, -16.4798) -> (5.5245, -19.0198)
  line L171 (6.7945, -18.7146) -> (5.5245, -18.8345)
  line L172 (5.5245, -16.6842) -> (6.7945, -16.804)
  line L173 (6.7945, -18.7146) -> (5.5245, -18.8345)
  line L174 (5.5245, -18.8345) -> (5.5245, -16.6842)
  line L175 (5.5245, -16.4798) -> (5.5245, -19.0198)
  line L176 (6.7945, -16.804) -> (5.5245, -16.6842)
  line L177 (8.0645, -20.9882) -> (7.6408, -20.9882)
  line L178 (8.0645, -20.8076) -> (8.0645, -21.1688)
  line L179 (8.0645, -20.8076) -> (8.0645, -21.1688)
  arc A65 (6.7945, -21.9435) -> (8.0645, -21.1688) centre (6.3804, -19.8363) ccw
  arc A66 (8.0645, -20.8076) -> (6.7945, -20.0329) centre (6.3804, -22.1401) ccw
  arc A67 (6.7945, -21.9435) -> (8.0645, -21.1688) centre (6.3804, -19.8363) ccw
  arc A68 (8.0645, -20.8076) -> (6.7945, -20.0329) centre (6.3804, -22.1401) ccw
  line L180 (5.5245, -19.9119) -> (5.5245, -83.4119)
  line L181 (5.5245, -19.7087) -> (5.5245, -22.2487)
  line L182 (6.7945, -21.9435) -> (5.5245, -22.0633)
  line L183 (5.5245, -19.913) -> (6.7945, -20.0329)
  line L184 (6.7945, -21.9435) -> (5.5245, -22.0633)
  line L185 (5.5245, -22.0633) -> (5.5245, -19.913)
  line L186 (5.5245, -19.7087) -> (5.5245, -22.2487)
  line L187 (6.7945, -20.0329) -> (5.5245, -19.913)
  line L188 (8.0645, -24.2171) -> (7.6408, -24.2171)
  line L189 (8.0645, -24.0364) -> (8.0645, -24.3977)
  line L190 (8.0645, -24.0364) -> (8.0645, -24.3977)
  arc A69 (6.7945, -25.1724) -> (8.0645, -24.3977) centre (6.3804, -23.0652) ccw
  arc A70 (8.0645, -24.0364) -> (6.7945, -23.2617) centre (6.3804, -25.3689) ccw
  arc A71 (6.7945, -25.1724) -> (8.0645, -24.3977) centre (6.3804, -23.0652) ccw
  arc A72 (8.0645, -24.0364) -> (6.7945, -23.2617) centre (6.3804, -25.3689) ccw
  line L191 (5.5245, -23.1408) -> (5.5245, -86.6407)
  line L192 (5.5245, -22.9376) -> (5.5245, -25.4776)
  line L193 (6.7945, -25.1724) -> (5.5245, -25.2922)
  line L194 (5.5245, -23.1419) -> (6.7945, -23.2617)
  line L195 (6.7945, -25.1724) -> (5.5245, -25.2922)
  line L196 (5.5245, -25.2922) -> (5.5245, -23.1419)
  line L197 (5.5245, -22.9376) -> (5.5245, -25.4776)
  line L198 (6.7945, -23.2617) -> (5.5245, -23.1419)
  line L199 (8.0645, -27.4459) -> (7.6408, -27.4459)
  line L200 (8.0645, -27.2653) -> (8.0645, -27.6266)
  line L201 (8.0645, -27.2653) -> (8.0645, -27.6266)
  arc A73 (6.7945, -28.4013) -> (8.0645, -27.6266) centre (6.3804, -26.2941) ccw
  arc A74 (8.0645, -27.2653) -> (6.7945, -26.4906) centre (6.3804, -28.5978) ccw
  arc A75 (6.7945, -28.4013) -> (8.0645, -27.6266) centre (6.3804, -26.2941) ccw
  arc A76 (8.0645, -27.2653) -> (6.7945, -26.4906) centre (6.3804, -28.5978) ccw
  line L202 (5.5245, -26.3696) -> (5.5245, -89.8696)
  line L203 (5.5245, -26.1664) -> (5.5245, -28.7064)
  line L204 (6.7945, -28.4013) -> (5.5245, -28.5211)
  line L205 (5.5245, -26.3708) -> (6.7945, -26.4906)
  line L206 (6.7945, -28.4013) -> (5.5245, -28.5211)
  line L207 (5.5245, -28.5211) -> (5.5245, -26.3708)
  line L208 (5.5245, -26.1664) -> (5.5245, -28.7064)
  line L209 (6.7945, -26.4906) -> (5.5245, -26.3708)
  line L210 (8.0645, -30.6748) -> (7.6408, -30.6748)
  line L211 (8.0645, -30.4942) -> (8.0645, -30.8554)
  line L212 (8.0645, -30.4942) -> (8.0645, -30.8554)
  arc A77 (6.7945, -31.6301) -> (8.0645, -30.8554) centre (6.3804, -29.5229) ccw
  arc A78 (8.0645, -30.4942) -> (6.7945, -29.7195) centre (6.3804, -31.8267) ccw
  arc A79 (6.7945, -31.6301) -> (8.0645, -30.8554) centre (6.3804, -29.5229) ccw
  arc A80 (8.0645, -30.4942) -> (6.7945, -29.7195) centre (6.3804, -31.8267) ccw
  line L213 (5.5245, -29.5985) -> (5.5245, -93.0985)
  line L214 (5.5245, -29.3953) -> (5.5245, -31.9353)
  line L215 (6.7945, -31.6301) -> (5.5245, -31.7499)
  line L216 (5.5245, -29.5996) -> (6.7945, -29.7195)
  line L217 (6.7945, -31.6301) -> (5.5245, -31.7499)
  line L218 (5.5245, -31.7499) -> (5.5245, -29.5996)
  line L219 (5.5245, -29.3953) -> (5.5245, -31.9353)
  line L220 (6.7945, -29.7195) -> (5.5245, -29.5996)
  point P0 (0, 0)
  point P1 (6.7953, 29.7185)
  point P2 (6.7953, 26.4897)
  point P3 (6.7953, 23.2608)
  point P4 (6.7953, 20.0319)
  point P5 (6.7953, 16.8031)
  point P6 (6.7953, 13.5742)
  point P7 (6.7953, 10.3453)
  point P8 (6.7953, 7.1164)
  point P9 (6.7953, 3.8876)
  point P10 (6.7953, 0.6587)
  point P11 (6.7953, -2.5702)
  point P12 (6.7953, -5.799)
  point P13 (6.7953, -9.0279)
  point P14 (6.7953, -12.2568)
  point P15 (6.7953, -15.4856)
  point P16 (6.7953, -18.7145)
  point P17 (6.7953, -21.9434)
  point P18 (6.7953, -25.1722)
  point P19 (6.7953, -28.4011)
  point P20 (6.7953, -31.63)
  dimension "d9" = 2.3368
  dimension "d63" = 84.61
  dimension "d64" = 84.61
  dimension "d74" = 3.2289
sketch "Sketch5" plane through (-4.8895, -5.5245, 31.75) normal (0, -1, 0) x (1, 0, 0)
  line L0 (9.779, 0) -> (9.779, -63.5) projected
  line L1 (9.779, 0) -> (0, 0) projected
  line L2 (0, -63.5) -> (0, 0) projected
  line L3 (0, -63.5) -> (0, 0) projected
  line L4 (0, -63.5) -> (9.779, -63.5) projected
  line L5 (0, -63.5) -> (9.779, -63.5) projected
  line L6 (9.779, 0) -> (9.779, -63.5) projected
  line L7 (9.779, 0) -> (0, 0) projected
  line L8 (0, -63.5) -> (0, 0) projected
  line L9 (9.779, 0) -> (9.779, -63.5) projected
  line L10 (9.779, 0) -> (0, 0) projected
  line L11 (0, -63.5) -> (9.779, -63.5) projected
  point P0 (4.8895, -31.75)
extrude "Extrusion6" add sketch "Sketch5" along normal blind 2.54
extrude "Extrusion8" add sketch "Sketch3" along normal mid plane 6.35 contours L0 L6 A0 L4 A1 L7 | L0 L18 A6 L13 A5 L17 | L0 L29 A10 L24 A9 L28 | L0 L40 A14 L35 A13 L39 | L0 L51 A18 L46 A17 L50 | L0 L62 A22 L57 A21 L61 | L0 L73 A26 L68 A25 L72 | L0 L84 A30 L79 A29 L83 | L0 L95 A34 L90 A33 L94 | L0 L106 A38 L101 A37 L105 | L0 A2 A41 L116 | L0 L128 A46 L123 A45 L127 | L0 L139 A50 L134 A49 L138 | L0 L150 A54 L145 A53 L149 | L0 L161 A58 L156 A57 L160 | L0 L172 A62 L167 A61 L171 | L0 L183 A66 L178 A65 L182 | L0 L194 A70 L189 A69 L193 | L0 L205 A74 L200 A73 L204 | L0 L216 A78 L211 A77 L215 | L0 L117 A42 L112 A2 A41 | A2 L111 L112 A41 | L112 L111 A2
sketch "Sketch14" plane through (-3.8895, 5.5245, 31.75) normal (0, 1, 0) x (1, 0, 0)
  line L0 (-2.3413, 37.669) -> (16.7384, 37.669)
  line L1 (16.7384, 37.669) -> (16.7384, 74.3036)
  line L2 (16.7384, 74.3036) -> (-2.3413, 74.3036)
  line L3 (-2.3413, 74.3036) -> (-2.3413, 37.669)
  line L4 (8.779, 0) -> (-1, 0) projected
  line L5 (-1, 0) -> (12.5409, 0)
  line L6 (12.5409, 0) -> (12.5409, -8.7328)
  line L7 (12.5409, -8.7328) -> (-1, -8.7328)
  line L8 (-1, -8.7328) -> (-1, 0)
  point P0 (3.8895, 31.75)
extrude "Extrusion16" cut sketch "Sketch14" along normal mid plane 25.4
sketch "Sketch15" plane through (-3.175, 5.5245, -5.919) normal (0, 0, -1) x (-1, 0, 0)
  line L0 (-8.0645, -5.5) -> (-8.0645, -4.5) projected
  line L1 (1.7145, 0) -> (1.7145, -13.589) projected
  line L2 (-8.0645, -5.5) -> (1.7145, -5.5)
  line L3 (1.7145, -5.5) -> (1.7145, -4)
  line L4 (1.7145, -4) -> (-8.0645, -4)
  line L5 (-8.0645, -4) -> (-8.0645, -5.5)
  point P0 (-3.175, -5.5245)
  point P1 (1.7145, -1)
  point P2 (1.7145, -4.5)
  dimension "d108" = 1.5
extrude "Extrusion17" add sketch "Sketch15" along normal blind 1.2
sketch "Sketch16" plane through (-3.175, 5.5245, -7.119) normal (0, 0, -1) x (-1, 0, 0)
  line L0 (-8.0645, -5.5) -> (-8.0645, -4.5) projected
  line L1 (-8.0645, -5.5) -> (-5.075, -5.5)
  line L2 (-7.0645, -5.5) -> (0.7145, -5.5) projected
  line L3 (1.7145, -5.5) -> (0.7145, -5.5) projected
  line L4 (1.7145, -5.5) -> (-1.275, -5.5)
  line L5 (-8.0645, -5.5) -> (1.7145, -5.5) projected
  line L6 (-8.0645, -5.5) -> (-5.075, -5.5)
  line L7 (-5.075, -5.5) -> (-5.075, 4.5)
  line L8 (-5.075, 4.5) -> (-8.0645, 4.5)
  line L9 (-8.0645, 4.5) -> (-8.0645, -5.5)
  line L10 (-1.275, -5.5) -> (1.7145, -5.5)
  line L11 (1.7145, -5.5) -> (1.7145, 4.5)
  line L12 (1.7145, 4.5) -> (-1.275, 4.5)
  line L13 (-1.275, 4.5) -> (-1.275, -5.5)
  circle A0 centre (-3.175, 0.85) radius 1.9 projected
  line L14 (-5.075, -5.5) -> (-1.275, -5.5)
  circle A1 centre (-3.175, 0.85) radius 1.9
  line L15 (-5.075, 0.85) -> (-5.075, -5.5)
  line L16 (-1.275, 0.85) -> (-1.275, -5.5)
  point P0 (-3.175, -5.5245)
  dimension "d111" = 2.9895
  dimension "d112" = 2.9895
  dimension "d113" = 10
  dimension "d114" = 10
extrude "Extrusion18" add sketch "Sketch16" along normal blind 2 contours L0 L9 L8 L7 L1 | L7 A0 L13 L2 | L13 L12 L11 L3 L2
sketch "Sketch17" plane through (-3.175, 5.5245, -9.119) normal (0, 0, -1) x (-1, 0, 0)
  circle A0 centre (-3.175, 2) radius 3.2 projected
  line L0 (-6.375, 2) -> (-6.375, 4.5)
  line L1 (-5.075, 4.5) -> (-8.0645, 4.5) projected
  line L2 (0.025, 2) -> (0.025, 4.5)
  line L3 (0.025, 4.5) -> (-6.375, 4.5)
  circle A1 centre (-3.175, 2) radius 3.2
  line L4 (-6.375, 2) -> (0.025, 2)
  line L5 (0.025, 2) -> (0.025, 4.5)
  line L6 (0.025, 4.5) -> (-6.375, 4.5)
  line L7 (-6.375, 4.5) -> (-6.375, 2)
  point P0 (-3.175, -5.5245)
extrude "Extrusion19" cut sketch "Sketch17" against normal up to surface (2 mm away)
fillet "Fillet2" radius 1 4 edges at (-4.8895, -1.27, 31.75) (4.8895, -1.27, 31.75) (-4.8895, 5.0245, -9.119) (4.8895, 5.0245, -9.119)
sketch "Sketch18" plane through (-4.8895, 0, 0) normal (-1, 0, 0) x (0, 0, 1)
  line L0 (-7.5166, 0.0245) -> (-7.5166, 12.7245) projected
  line L1 (33.5091, 0.0245) -> (-101.4531, 0.0245) projected
  line L2 (33.5091, 0.0245) -> (-48.3769, 0.0245)
  line L3 (-48.3769, 0.0245) -> (-48.3769, -19.3378)
  line L4 (-48.3769, -19.3378) -> (33.5091, -19.3378)
  line L5 (33.5091, -19.3378) -> (33.5091, 0.0245)
  point P0 (0, 0)
extrude "Extrusion20" cut sketch "Sketch18" against normal blind 25.4
properties part number "Rack_arms"
